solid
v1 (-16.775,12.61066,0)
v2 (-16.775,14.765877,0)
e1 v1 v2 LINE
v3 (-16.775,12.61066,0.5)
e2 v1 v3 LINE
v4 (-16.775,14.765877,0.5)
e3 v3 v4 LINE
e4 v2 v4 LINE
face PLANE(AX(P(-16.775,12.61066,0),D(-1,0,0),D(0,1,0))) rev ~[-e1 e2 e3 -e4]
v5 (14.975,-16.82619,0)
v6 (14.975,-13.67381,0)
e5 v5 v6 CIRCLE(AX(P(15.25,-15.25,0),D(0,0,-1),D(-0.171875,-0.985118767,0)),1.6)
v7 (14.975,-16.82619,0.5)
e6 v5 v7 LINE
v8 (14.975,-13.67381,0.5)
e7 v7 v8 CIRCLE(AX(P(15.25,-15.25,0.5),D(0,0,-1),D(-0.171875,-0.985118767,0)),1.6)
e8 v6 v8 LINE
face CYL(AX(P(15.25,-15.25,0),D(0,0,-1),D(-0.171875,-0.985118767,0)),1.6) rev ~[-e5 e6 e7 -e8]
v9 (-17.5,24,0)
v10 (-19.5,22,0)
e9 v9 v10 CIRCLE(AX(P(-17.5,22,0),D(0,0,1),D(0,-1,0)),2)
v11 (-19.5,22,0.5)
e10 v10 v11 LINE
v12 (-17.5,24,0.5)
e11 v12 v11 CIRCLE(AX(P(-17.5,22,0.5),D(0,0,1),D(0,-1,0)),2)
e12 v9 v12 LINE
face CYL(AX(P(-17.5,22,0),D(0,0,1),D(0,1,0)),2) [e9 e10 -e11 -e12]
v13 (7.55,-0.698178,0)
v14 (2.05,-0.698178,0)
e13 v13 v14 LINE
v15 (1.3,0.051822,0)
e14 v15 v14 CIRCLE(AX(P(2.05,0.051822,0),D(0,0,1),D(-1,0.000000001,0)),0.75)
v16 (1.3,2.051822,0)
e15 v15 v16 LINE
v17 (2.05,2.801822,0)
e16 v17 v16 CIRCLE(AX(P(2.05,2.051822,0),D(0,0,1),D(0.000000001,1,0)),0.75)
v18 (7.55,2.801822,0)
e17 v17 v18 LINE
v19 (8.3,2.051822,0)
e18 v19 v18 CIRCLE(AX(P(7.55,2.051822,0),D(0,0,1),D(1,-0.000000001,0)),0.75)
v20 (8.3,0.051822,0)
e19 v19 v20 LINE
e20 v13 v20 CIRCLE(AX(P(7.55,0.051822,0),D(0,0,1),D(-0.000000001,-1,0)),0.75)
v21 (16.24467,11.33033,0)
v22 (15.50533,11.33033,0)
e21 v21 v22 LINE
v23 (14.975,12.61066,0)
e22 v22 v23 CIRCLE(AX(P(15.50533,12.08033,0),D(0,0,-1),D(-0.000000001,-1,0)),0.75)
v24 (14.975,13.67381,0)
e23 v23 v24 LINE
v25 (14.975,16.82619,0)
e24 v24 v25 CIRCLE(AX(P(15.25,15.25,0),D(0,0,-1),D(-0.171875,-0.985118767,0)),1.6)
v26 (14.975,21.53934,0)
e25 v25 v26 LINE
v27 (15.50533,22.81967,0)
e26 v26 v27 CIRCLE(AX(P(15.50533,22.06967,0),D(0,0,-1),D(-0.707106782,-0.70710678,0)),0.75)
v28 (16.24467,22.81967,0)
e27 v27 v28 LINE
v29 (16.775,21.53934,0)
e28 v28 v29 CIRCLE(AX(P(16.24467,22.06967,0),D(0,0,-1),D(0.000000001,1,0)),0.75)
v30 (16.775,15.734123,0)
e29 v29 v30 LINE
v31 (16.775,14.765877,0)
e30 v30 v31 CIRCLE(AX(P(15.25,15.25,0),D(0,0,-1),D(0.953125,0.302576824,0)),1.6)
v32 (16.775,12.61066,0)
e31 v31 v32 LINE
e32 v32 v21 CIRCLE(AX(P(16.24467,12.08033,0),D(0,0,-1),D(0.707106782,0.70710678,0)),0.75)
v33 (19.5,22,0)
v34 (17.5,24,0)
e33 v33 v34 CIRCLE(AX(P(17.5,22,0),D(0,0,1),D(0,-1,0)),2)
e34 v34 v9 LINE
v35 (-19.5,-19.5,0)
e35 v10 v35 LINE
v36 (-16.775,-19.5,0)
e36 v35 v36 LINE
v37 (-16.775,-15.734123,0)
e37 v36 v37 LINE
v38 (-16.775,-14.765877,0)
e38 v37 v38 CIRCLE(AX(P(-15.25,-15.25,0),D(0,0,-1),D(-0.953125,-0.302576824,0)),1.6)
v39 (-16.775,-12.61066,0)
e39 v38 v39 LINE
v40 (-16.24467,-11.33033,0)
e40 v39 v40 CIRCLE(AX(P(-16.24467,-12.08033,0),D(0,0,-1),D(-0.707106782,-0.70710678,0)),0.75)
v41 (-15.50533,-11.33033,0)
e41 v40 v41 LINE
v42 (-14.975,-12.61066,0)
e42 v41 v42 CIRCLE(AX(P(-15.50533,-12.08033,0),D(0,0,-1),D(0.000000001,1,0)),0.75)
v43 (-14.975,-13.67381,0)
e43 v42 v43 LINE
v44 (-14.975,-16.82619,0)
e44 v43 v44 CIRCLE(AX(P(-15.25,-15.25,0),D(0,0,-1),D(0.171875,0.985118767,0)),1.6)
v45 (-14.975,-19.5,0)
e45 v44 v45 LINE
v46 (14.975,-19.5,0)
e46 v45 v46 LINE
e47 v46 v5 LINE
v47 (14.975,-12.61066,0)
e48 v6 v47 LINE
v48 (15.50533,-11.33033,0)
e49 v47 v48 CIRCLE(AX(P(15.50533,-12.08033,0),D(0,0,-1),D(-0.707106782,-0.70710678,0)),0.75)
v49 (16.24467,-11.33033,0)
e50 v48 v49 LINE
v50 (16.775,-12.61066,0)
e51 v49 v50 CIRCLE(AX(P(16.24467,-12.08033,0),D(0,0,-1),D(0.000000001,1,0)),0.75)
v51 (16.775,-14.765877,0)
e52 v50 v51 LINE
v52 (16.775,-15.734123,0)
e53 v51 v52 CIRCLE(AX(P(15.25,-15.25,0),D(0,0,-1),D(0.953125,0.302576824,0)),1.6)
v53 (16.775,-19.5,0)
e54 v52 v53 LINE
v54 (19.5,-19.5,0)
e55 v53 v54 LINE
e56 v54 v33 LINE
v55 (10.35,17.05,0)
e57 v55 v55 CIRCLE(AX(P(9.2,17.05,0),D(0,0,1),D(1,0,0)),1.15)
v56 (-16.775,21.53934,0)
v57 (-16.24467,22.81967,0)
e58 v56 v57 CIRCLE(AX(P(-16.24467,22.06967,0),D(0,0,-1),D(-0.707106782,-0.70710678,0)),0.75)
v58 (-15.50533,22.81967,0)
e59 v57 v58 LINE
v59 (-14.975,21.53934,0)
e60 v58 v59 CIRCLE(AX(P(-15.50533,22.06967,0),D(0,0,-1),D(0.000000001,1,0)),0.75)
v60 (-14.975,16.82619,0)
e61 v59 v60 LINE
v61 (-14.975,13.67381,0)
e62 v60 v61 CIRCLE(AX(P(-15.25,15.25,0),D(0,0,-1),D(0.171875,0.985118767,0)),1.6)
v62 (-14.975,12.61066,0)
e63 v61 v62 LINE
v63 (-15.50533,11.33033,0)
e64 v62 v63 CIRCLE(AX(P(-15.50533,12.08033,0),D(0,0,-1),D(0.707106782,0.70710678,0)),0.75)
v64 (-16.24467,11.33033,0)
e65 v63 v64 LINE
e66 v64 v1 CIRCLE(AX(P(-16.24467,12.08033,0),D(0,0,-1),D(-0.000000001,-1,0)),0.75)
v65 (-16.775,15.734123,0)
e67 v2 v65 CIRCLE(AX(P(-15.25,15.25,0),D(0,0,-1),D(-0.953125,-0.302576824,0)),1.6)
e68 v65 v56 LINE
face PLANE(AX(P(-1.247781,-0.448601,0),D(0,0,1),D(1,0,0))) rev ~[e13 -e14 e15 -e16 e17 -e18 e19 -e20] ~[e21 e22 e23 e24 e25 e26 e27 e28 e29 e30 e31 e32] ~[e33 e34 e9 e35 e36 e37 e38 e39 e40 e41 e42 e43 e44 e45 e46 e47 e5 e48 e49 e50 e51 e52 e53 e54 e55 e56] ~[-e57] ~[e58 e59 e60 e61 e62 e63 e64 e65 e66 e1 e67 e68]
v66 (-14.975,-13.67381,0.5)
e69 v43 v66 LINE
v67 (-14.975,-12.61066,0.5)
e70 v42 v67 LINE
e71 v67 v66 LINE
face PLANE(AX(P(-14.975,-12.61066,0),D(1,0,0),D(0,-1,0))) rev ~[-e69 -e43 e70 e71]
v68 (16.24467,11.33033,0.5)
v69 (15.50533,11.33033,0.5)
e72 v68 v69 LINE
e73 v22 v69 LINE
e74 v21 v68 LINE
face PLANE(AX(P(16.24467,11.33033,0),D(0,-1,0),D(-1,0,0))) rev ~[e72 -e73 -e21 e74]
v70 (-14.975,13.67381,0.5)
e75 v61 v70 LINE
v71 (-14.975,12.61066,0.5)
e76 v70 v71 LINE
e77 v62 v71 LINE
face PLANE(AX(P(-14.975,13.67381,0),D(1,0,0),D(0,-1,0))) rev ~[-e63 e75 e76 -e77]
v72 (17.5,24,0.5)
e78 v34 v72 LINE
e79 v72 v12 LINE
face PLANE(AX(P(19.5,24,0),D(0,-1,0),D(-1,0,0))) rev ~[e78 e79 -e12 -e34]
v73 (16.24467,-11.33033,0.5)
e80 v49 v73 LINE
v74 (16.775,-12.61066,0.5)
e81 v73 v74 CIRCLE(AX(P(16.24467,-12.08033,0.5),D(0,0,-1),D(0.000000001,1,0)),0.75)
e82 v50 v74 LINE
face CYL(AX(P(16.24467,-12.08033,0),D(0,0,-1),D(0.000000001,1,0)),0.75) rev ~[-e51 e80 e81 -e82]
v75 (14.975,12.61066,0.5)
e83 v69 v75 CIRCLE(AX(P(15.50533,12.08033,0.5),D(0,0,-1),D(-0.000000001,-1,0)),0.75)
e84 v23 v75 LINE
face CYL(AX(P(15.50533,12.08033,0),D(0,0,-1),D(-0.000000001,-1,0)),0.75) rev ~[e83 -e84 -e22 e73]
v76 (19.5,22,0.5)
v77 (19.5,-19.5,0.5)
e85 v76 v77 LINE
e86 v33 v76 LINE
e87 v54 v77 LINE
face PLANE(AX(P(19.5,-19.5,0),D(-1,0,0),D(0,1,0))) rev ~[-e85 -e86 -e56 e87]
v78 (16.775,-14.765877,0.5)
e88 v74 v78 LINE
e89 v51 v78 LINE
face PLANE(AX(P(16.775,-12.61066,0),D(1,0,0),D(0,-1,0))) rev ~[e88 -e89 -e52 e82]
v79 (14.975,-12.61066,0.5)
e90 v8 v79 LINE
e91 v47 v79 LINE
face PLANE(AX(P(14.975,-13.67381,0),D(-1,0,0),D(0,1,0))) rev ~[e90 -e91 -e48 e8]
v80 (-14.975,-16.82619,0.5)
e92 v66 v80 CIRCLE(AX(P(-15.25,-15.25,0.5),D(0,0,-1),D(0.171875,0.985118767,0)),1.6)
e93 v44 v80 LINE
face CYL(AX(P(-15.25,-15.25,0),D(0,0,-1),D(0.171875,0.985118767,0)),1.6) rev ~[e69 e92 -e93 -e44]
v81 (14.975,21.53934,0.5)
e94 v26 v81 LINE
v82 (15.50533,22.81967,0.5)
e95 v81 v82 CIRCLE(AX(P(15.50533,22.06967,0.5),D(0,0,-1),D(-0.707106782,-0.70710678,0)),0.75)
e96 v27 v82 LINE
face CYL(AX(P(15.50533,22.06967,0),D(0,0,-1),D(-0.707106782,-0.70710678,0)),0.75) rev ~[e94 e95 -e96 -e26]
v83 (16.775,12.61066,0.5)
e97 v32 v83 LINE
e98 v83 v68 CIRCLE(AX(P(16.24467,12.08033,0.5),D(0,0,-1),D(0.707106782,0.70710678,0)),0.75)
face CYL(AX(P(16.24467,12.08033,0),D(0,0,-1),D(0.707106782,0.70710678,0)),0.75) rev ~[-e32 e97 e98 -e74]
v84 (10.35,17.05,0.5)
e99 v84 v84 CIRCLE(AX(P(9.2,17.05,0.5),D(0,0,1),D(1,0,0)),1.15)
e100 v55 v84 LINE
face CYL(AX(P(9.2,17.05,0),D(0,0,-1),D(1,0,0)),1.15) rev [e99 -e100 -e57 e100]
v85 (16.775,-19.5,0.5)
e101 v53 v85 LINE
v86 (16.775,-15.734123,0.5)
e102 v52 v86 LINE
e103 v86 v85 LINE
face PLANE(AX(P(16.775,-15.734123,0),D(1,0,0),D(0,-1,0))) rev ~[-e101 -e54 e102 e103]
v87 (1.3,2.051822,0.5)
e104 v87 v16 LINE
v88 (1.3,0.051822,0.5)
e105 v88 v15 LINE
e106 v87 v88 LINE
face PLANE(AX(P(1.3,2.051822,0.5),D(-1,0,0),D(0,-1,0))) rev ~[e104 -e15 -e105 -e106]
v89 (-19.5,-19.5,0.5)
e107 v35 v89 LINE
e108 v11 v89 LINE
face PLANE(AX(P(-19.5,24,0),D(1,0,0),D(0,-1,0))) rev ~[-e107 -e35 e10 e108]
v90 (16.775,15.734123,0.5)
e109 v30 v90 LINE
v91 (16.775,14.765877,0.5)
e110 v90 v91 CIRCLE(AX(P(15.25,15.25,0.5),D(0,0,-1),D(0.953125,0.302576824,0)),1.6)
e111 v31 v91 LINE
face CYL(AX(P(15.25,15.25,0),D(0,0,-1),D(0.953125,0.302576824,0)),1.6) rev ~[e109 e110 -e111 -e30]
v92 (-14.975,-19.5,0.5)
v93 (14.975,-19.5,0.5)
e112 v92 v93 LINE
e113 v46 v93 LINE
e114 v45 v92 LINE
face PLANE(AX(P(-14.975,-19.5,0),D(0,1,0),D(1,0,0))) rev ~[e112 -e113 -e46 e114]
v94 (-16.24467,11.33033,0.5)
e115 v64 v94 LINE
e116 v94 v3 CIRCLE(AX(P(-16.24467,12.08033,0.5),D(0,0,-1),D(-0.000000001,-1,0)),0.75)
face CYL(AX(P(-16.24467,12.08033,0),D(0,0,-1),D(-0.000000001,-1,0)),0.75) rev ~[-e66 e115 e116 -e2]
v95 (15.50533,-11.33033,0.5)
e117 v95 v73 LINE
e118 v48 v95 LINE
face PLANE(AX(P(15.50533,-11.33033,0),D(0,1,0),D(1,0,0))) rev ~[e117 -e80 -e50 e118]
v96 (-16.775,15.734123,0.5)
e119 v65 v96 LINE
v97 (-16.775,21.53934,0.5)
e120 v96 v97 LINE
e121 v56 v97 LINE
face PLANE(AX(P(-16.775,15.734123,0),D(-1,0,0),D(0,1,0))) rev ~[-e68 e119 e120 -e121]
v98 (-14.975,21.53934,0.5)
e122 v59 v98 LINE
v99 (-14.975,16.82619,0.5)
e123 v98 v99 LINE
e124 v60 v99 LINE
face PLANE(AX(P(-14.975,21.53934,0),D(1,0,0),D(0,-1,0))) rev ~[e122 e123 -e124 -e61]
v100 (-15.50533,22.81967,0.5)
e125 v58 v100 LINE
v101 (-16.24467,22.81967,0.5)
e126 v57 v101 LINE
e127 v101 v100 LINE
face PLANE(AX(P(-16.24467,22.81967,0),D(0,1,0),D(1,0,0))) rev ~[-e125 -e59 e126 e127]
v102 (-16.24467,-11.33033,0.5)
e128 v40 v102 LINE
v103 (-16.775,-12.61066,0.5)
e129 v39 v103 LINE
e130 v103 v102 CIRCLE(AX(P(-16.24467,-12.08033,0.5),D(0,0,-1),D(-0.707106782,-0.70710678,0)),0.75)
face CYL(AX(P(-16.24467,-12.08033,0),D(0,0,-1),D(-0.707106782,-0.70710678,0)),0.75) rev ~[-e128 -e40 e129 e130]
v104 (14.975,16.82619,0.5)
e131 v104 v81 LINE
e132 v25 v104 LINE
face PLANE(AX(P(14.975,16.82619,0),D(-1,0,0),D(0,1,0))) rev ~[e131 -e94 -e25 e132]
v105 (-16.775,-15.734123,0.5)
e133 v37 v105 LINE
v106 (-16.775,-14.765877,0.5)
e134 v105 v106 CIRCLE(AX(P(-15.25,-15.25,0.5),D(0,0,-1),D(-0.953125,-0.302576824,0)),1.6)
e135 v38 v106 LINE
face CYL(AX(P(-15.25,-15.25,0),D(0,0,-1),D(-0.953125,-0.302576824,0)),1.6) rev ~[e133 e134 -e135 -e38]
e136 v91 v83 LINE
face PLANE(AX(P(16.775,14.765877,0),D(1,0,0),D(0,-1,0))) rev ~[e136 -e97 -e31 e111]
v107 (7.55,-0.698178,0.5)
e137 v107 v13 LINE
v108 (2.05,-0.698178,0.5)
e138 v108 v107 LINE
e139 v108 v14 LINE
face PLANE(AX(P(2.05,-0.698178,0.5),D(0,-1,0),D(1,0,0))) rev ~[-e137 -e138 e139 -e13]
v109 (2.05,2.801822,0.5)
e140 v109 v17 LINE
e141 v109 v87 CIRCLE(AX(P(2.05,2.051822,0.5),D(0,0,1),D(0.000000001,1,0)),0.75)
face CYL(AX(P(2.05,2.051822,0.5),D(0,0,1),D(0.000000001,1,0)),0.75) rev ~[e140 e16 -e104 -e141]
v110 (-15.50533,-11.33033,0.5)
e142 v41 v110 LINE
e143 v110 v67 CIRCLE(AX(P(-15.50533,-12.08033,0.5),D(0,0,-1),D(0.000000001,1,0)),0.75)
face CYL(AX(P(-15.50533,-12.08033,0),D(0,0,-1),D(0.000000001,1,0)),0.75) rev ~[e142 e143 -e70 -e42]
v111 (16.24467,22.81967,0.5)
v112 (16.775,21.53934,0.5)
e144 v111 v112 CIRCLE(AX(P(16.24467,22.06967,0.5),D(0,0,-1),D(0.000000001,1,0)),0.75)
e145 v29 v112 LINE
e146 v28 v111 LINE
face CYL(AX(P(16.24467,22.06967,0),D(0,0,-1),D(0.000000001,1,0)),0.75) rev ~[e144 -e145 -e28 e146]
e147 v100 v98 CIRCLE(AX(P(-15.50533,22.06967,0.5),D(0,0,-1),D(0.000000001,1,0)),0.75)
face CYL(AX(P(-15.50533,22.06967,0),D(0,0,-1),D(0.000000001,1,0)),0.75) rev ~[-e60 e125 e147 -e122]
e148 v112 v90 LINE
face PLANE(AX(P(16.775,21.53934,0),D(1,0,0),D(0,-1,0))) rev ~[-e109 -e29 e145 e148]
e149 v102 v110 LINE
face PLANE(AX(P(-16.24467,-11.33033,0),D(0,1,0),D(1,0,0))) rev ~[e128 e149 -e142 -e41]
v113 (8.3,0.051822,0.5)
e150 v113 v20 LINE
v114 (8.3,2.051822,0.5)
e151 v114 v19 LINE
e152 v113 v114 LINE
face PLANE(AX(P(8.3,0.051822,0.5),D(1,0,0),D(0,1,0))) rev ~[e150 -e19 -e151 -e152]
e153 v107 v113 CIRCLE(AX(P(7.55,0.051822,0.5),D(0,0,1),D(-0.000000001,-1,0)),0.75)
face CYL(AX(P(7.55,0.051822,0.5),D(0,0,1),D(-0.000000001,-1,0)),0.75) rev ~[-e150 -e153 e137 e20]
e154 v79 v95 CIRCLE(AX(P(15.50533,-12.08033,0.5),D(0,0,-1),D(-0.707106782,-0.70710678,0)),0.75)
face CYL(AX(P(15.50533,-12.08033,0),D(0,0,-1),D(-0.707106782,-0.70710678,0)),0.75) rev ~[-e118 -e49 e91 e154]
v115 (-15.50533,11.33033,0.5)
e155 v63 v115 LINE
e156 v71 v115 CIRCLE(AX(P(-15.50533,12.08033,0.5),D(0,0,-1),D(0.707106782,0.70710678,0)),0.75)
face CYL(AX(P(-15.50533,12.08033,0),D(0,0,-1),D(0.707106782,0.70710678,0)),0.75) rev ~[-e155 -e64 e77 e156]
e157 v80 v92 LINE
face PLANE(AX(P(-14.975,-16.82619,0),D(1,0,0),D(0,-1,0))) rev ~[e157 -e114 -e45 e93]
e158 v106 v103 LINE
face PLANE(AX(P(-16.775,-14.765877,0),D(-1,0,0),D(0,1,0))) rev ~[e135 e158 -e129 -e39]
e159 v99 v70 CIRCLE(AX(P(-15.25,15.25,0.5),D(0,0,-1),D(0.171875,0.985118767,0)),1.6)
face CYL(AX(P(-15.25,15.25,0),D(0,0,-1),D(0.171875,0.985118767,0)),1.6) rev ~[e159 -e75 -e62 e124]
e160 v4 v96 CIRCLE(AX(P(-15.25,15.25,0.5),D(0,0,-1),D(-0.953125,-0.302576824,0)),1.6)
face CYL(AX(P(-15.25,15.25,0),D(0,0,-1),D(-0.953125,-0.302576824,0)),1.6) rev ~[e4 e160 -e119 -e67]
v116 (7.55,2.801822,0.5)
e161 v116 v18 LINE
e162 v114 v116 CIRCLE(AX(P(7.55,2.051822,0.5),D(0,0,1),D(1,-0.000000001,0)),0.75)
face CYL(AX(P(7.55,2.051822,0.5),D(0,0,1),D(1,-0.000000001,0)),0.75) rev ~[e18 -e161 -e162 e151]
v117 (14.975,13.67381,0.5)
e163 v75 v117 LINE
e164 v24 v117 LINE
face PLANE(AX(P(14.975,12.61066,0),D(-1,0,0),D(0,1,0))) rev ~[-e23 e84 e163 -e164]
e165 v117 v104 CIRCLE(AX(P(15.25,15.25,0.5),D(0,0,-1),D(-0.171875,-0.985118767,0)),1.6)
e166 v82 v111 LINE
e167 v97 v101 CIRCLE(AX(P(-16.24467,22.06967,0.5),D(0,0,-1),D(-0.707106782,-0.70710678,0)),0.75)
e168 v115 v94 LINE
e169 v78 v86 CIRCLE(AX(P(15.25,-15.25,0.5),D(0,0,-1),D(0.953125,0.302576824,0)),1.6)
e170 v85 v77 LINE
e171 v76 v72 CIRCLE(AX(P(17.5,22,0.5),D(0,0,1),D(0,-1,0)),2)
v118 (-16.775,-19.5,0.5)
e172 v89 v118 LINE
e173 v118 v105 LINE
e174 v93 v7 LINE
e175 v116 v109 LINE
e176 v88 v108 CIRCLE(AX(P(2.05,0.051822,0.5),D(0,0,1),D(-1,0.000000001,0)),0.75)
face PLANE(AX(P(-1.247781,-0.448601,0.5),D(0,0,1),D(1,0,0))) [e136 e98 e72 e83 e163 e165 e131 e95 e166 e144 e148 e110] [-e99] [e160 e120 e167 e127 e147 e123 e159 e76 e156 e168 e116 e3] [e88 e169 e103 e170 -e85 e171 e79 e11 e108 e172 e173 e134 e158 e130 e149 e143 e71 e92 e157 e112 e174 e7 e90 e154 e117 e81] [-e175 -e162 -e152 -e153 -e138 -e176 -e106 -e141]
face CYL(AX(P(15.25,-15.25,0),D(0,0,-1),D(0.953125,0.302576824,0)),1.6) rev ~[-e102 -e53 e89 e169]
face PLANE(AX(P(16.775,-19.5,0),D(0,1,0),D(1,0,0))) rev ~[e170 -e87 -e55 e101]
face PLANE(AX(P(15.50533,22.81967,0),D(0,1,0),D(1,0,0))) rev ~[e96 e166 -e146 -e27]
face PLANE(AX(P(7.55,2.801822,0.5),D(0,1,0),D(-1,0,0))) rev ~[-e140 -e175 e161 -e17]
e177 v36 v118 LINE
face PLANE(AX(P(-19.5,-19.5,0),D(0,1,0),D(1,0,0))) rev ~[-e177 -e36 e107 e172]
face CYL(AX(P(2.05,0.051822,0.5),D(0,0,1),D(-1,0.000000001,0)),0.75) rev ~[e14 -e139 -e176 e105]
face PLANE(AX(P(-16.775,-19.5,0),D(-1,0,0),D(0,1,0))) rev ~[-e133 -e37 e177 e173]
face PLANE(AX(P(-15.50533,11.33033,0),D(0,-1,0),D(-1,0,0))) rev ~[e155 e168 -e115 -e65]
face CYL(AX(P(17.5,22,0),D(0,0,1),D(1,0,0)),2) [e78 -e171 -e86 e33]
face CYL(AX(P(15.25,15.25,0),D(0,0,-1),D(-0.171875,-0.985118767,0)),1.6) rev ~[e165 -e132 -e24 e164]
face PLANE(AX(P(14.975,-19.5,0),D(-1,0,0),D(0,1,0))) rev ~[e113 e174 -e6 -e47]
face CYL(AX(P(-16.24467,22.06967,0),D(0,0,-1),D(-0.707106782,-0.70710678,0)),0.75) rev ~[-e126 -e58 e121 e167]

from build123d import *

# Parameters (mm, degrees)
SKETCH1_R                   = 1.15
SHAPE_DEPTH                 = 0.5
CAMERA_CONNECTOR_HOLE_REACH = 32.927
FILLET1_R                   = 2


with BuildPart() as part:
    # Sketch1 → Shape (new body)
    with BuildSketch(Plane.XY):
        with BuildLine():
            Line((19.5, 24), (-19.5, 24))
            Line((-19.5, 24), (-19.5, -19.5))
            Line((-19.5, -19.5), (-16.775, -19.5))
            Line((-16.775, -19.5), (-16.775, -15.734122918))
            ThreePointArc((-16.775, -15.734122918), (-16.85, -15.25), (-16.775, -14.765877082))
            Line((-16.775, -14.765877082), (-16.775, -12.610660172))
            ThreePointArc((-16.775, -12.610660172), (-16.937579563, -11.793317512), (-16.244669914, -11.330330086))
            Line((-16.244669914, -11.330330086), (-15.505330086, -11.330330086))
            ThreePointArc((-15.505330086, -11.330330086), (-14.812420437, -11.793317512), (-14.975, -12.610660172))
            Line((-14.975, -12.610660172), (-14.975, -13.673809973))
            ThreePointArc((-14.975, -13.673809973), (-13.65, -15.25), (-14.975, -16.826190027))
            Line((-14.975, -16.826190027), (-14.975, -19.5))
            Line((-14.975, -19.5), (14.975, -19.5))
            Line((14.975, -19.5), (14.975, -16.826190027))
            ThreePointArc((14.975, -16.826190027), (13.65, -15.25), (14.975, -13.673809973))
            Line((14.975, -13.673809973), (14.975, -12.610660172))
            ThreePointArc((14.975, -12.610660172), (14.812420437, -11.793317512), (15.505330086, -11.330330086))
            Line((15.505330086, -11.330330086), (16.244669914, -11.330330086))
            ThreePointArc((16.244669914, -11.330330086), (16.937579563, -11.793317512), (16.775, -12.610660172))
            Line((16.775, -12.610660172), (16.775, -14.765877082))
            ThreePointArc((16.775, -14.765877082), (16.85, -15.25), (16.775, -15.734122918))
            Line((16.775, -15.734122918), (16.775, -19.5))
            Line((16.775, -19.5), (19.5, -19.5))
            Line((19.5, -19.5), (19.5, 24))
        make_face()
        with BuildLine():
            ThreePointArc((16.244669914, 22.819669914), (16.937579563, 22.356682488), (16.775, 21.539339828))
            Line((16.775, 21.539339828), (16.775, 15.734122918))
            ThreePointArc((16.775, 15.734122918), (16.85, 15.25), (16.775, 14.765877082))
            Line((16.775, 14.765877082), (16.775, 12.610660172))
            ThreePointArc((16.775, 12.610660172), (16.937579563, 11.793317512), (16.244669914, 11.330330086))
            Line((16.244669914, 11.330330086), (15.505330086, 11.330330086))
            ThreePointArc((15.505330086, 11.330330086), (14.812420437, 11.793317512), (14.975, 12.610660172))
            Line((14.975, 12.610660172), (14.975, 13.673809973))
            ThreePointArc((14.975, 13.673809973), (13.65, 15.25), (14.975, 16.826190027))
            Line((14.975, 16.826190027), (14.975, 21.539339828))
            ThreePointArc((14.975, 21.539339828), (14.812420437, 22.356682488), (15.505330086, 22.819669914))
            Line((15.505330086, 22.819669914), (16.244669914, 22.819669914))
        make_face(mode=Mode.SUBTRACT)
        with BuildLine():
            Line((-16.775, 12.610660172), (-16.775, 14.765877082))
            ThreePointArc((-16.775, 14.765877082), (-16.85, 15.25), (-16.775, 15.734122918))
            Line((-16.775, 15.734122918), (-16.775, 21.539339828))
            ThreePointArc((-16.775, 21.539339828), (-16.937579563, 22.356682488), (-16.244669914, 22.819669914))
            Line((-16.244669914, 22.819669914), (-15.505330086, 22.819669914))
            ThreePointArc((-15.505330086, 22.819669914), (-14.812420437, 22.356682488), (-14.975, 21.539339828))
            Line((-14.975, 21.539339828), (-14.975, 16.826190027))
            ThreePointArc((-14.975, 16.826190027), (-13.65, 15.25), (-14.975, 13.673809973))
            Line((-14.975, 13.673809973), (-14.975, 12.610660172))
            ThreePointArc((-14.975, 12.610660172), (-14.812420437, 11.793317512), (-15.505330086, 11.330330086))
            Line((-15.505330086, 11.330330086), (-16.244669914, 11.330330086))
            ThreePointArc((-16.244669914, 11.330330086), (-16.937579563, 11.793317512), (-16.775, 12.610660172))
        make_face(mode=Mode.SUBTRACT)
        with Locations((9.2, 17.05)):
            Circle(SKETCH1_R, mode=Mode.SUBTRACT)
    extrude(amount=SHAPE_DEPTH)

    # Sketch2 → Camera connector hole (cut, up to next)
    with BuildSketch(Plane.XY.offset(0.5), mode=Mode.PRIVATE) as camera_connector_hole_sk1:
        with BuildLine():
            ThreePointArc((1.3, 0.051822129), (1.519669914, -0.478507957), (2.05, -0.698177871))
            Line((2.05, -0.698177871), (7.55, -0.698177871))
            ThreePointArc((7.55, -0.698177871), (8.080330086, -0.478507957), (8.3, 0.051822129))
            Line((8.3, 0.051822129), (8.3, 2.051822129))
            ThreePointArc((8.3, 2.051822129), (8.080330086, 2.582152215), (7.55, 2.801822129))
            Line((7.55, 2.801822129), (2.05, 2.801822129))
            ThreePointArc((2.05, 2.801822129), (1.519669914, 2.582152215), (1.3, 2.051822129))
            Line((1.3, 2.051822129), (1.3, 0.051822129))
        make_face()
    camera_connector_hole_tool1 = extrude(camera_connector_hole_sk1.sketch, amount=-CAMERA_CONNECTOR_HOLE_REACH, mode=Mode.PRIVATE) & part.part
    add(camera_connector_hole_tool1.solids().sort_by_distance((4.8, 1.051822, 0.5))[0], mode=Mode.SUBTRACT)

    # Fillet1
    fillet1_edges = [part.edges().sort_by_distance(p)[0] for p in [
        (19.5, 24, 0.25),
        (-19.5, 24, 0.25),
    ]]
    fillet(fillet1_edges, radius=FILLET1_R)


solid = part.part
